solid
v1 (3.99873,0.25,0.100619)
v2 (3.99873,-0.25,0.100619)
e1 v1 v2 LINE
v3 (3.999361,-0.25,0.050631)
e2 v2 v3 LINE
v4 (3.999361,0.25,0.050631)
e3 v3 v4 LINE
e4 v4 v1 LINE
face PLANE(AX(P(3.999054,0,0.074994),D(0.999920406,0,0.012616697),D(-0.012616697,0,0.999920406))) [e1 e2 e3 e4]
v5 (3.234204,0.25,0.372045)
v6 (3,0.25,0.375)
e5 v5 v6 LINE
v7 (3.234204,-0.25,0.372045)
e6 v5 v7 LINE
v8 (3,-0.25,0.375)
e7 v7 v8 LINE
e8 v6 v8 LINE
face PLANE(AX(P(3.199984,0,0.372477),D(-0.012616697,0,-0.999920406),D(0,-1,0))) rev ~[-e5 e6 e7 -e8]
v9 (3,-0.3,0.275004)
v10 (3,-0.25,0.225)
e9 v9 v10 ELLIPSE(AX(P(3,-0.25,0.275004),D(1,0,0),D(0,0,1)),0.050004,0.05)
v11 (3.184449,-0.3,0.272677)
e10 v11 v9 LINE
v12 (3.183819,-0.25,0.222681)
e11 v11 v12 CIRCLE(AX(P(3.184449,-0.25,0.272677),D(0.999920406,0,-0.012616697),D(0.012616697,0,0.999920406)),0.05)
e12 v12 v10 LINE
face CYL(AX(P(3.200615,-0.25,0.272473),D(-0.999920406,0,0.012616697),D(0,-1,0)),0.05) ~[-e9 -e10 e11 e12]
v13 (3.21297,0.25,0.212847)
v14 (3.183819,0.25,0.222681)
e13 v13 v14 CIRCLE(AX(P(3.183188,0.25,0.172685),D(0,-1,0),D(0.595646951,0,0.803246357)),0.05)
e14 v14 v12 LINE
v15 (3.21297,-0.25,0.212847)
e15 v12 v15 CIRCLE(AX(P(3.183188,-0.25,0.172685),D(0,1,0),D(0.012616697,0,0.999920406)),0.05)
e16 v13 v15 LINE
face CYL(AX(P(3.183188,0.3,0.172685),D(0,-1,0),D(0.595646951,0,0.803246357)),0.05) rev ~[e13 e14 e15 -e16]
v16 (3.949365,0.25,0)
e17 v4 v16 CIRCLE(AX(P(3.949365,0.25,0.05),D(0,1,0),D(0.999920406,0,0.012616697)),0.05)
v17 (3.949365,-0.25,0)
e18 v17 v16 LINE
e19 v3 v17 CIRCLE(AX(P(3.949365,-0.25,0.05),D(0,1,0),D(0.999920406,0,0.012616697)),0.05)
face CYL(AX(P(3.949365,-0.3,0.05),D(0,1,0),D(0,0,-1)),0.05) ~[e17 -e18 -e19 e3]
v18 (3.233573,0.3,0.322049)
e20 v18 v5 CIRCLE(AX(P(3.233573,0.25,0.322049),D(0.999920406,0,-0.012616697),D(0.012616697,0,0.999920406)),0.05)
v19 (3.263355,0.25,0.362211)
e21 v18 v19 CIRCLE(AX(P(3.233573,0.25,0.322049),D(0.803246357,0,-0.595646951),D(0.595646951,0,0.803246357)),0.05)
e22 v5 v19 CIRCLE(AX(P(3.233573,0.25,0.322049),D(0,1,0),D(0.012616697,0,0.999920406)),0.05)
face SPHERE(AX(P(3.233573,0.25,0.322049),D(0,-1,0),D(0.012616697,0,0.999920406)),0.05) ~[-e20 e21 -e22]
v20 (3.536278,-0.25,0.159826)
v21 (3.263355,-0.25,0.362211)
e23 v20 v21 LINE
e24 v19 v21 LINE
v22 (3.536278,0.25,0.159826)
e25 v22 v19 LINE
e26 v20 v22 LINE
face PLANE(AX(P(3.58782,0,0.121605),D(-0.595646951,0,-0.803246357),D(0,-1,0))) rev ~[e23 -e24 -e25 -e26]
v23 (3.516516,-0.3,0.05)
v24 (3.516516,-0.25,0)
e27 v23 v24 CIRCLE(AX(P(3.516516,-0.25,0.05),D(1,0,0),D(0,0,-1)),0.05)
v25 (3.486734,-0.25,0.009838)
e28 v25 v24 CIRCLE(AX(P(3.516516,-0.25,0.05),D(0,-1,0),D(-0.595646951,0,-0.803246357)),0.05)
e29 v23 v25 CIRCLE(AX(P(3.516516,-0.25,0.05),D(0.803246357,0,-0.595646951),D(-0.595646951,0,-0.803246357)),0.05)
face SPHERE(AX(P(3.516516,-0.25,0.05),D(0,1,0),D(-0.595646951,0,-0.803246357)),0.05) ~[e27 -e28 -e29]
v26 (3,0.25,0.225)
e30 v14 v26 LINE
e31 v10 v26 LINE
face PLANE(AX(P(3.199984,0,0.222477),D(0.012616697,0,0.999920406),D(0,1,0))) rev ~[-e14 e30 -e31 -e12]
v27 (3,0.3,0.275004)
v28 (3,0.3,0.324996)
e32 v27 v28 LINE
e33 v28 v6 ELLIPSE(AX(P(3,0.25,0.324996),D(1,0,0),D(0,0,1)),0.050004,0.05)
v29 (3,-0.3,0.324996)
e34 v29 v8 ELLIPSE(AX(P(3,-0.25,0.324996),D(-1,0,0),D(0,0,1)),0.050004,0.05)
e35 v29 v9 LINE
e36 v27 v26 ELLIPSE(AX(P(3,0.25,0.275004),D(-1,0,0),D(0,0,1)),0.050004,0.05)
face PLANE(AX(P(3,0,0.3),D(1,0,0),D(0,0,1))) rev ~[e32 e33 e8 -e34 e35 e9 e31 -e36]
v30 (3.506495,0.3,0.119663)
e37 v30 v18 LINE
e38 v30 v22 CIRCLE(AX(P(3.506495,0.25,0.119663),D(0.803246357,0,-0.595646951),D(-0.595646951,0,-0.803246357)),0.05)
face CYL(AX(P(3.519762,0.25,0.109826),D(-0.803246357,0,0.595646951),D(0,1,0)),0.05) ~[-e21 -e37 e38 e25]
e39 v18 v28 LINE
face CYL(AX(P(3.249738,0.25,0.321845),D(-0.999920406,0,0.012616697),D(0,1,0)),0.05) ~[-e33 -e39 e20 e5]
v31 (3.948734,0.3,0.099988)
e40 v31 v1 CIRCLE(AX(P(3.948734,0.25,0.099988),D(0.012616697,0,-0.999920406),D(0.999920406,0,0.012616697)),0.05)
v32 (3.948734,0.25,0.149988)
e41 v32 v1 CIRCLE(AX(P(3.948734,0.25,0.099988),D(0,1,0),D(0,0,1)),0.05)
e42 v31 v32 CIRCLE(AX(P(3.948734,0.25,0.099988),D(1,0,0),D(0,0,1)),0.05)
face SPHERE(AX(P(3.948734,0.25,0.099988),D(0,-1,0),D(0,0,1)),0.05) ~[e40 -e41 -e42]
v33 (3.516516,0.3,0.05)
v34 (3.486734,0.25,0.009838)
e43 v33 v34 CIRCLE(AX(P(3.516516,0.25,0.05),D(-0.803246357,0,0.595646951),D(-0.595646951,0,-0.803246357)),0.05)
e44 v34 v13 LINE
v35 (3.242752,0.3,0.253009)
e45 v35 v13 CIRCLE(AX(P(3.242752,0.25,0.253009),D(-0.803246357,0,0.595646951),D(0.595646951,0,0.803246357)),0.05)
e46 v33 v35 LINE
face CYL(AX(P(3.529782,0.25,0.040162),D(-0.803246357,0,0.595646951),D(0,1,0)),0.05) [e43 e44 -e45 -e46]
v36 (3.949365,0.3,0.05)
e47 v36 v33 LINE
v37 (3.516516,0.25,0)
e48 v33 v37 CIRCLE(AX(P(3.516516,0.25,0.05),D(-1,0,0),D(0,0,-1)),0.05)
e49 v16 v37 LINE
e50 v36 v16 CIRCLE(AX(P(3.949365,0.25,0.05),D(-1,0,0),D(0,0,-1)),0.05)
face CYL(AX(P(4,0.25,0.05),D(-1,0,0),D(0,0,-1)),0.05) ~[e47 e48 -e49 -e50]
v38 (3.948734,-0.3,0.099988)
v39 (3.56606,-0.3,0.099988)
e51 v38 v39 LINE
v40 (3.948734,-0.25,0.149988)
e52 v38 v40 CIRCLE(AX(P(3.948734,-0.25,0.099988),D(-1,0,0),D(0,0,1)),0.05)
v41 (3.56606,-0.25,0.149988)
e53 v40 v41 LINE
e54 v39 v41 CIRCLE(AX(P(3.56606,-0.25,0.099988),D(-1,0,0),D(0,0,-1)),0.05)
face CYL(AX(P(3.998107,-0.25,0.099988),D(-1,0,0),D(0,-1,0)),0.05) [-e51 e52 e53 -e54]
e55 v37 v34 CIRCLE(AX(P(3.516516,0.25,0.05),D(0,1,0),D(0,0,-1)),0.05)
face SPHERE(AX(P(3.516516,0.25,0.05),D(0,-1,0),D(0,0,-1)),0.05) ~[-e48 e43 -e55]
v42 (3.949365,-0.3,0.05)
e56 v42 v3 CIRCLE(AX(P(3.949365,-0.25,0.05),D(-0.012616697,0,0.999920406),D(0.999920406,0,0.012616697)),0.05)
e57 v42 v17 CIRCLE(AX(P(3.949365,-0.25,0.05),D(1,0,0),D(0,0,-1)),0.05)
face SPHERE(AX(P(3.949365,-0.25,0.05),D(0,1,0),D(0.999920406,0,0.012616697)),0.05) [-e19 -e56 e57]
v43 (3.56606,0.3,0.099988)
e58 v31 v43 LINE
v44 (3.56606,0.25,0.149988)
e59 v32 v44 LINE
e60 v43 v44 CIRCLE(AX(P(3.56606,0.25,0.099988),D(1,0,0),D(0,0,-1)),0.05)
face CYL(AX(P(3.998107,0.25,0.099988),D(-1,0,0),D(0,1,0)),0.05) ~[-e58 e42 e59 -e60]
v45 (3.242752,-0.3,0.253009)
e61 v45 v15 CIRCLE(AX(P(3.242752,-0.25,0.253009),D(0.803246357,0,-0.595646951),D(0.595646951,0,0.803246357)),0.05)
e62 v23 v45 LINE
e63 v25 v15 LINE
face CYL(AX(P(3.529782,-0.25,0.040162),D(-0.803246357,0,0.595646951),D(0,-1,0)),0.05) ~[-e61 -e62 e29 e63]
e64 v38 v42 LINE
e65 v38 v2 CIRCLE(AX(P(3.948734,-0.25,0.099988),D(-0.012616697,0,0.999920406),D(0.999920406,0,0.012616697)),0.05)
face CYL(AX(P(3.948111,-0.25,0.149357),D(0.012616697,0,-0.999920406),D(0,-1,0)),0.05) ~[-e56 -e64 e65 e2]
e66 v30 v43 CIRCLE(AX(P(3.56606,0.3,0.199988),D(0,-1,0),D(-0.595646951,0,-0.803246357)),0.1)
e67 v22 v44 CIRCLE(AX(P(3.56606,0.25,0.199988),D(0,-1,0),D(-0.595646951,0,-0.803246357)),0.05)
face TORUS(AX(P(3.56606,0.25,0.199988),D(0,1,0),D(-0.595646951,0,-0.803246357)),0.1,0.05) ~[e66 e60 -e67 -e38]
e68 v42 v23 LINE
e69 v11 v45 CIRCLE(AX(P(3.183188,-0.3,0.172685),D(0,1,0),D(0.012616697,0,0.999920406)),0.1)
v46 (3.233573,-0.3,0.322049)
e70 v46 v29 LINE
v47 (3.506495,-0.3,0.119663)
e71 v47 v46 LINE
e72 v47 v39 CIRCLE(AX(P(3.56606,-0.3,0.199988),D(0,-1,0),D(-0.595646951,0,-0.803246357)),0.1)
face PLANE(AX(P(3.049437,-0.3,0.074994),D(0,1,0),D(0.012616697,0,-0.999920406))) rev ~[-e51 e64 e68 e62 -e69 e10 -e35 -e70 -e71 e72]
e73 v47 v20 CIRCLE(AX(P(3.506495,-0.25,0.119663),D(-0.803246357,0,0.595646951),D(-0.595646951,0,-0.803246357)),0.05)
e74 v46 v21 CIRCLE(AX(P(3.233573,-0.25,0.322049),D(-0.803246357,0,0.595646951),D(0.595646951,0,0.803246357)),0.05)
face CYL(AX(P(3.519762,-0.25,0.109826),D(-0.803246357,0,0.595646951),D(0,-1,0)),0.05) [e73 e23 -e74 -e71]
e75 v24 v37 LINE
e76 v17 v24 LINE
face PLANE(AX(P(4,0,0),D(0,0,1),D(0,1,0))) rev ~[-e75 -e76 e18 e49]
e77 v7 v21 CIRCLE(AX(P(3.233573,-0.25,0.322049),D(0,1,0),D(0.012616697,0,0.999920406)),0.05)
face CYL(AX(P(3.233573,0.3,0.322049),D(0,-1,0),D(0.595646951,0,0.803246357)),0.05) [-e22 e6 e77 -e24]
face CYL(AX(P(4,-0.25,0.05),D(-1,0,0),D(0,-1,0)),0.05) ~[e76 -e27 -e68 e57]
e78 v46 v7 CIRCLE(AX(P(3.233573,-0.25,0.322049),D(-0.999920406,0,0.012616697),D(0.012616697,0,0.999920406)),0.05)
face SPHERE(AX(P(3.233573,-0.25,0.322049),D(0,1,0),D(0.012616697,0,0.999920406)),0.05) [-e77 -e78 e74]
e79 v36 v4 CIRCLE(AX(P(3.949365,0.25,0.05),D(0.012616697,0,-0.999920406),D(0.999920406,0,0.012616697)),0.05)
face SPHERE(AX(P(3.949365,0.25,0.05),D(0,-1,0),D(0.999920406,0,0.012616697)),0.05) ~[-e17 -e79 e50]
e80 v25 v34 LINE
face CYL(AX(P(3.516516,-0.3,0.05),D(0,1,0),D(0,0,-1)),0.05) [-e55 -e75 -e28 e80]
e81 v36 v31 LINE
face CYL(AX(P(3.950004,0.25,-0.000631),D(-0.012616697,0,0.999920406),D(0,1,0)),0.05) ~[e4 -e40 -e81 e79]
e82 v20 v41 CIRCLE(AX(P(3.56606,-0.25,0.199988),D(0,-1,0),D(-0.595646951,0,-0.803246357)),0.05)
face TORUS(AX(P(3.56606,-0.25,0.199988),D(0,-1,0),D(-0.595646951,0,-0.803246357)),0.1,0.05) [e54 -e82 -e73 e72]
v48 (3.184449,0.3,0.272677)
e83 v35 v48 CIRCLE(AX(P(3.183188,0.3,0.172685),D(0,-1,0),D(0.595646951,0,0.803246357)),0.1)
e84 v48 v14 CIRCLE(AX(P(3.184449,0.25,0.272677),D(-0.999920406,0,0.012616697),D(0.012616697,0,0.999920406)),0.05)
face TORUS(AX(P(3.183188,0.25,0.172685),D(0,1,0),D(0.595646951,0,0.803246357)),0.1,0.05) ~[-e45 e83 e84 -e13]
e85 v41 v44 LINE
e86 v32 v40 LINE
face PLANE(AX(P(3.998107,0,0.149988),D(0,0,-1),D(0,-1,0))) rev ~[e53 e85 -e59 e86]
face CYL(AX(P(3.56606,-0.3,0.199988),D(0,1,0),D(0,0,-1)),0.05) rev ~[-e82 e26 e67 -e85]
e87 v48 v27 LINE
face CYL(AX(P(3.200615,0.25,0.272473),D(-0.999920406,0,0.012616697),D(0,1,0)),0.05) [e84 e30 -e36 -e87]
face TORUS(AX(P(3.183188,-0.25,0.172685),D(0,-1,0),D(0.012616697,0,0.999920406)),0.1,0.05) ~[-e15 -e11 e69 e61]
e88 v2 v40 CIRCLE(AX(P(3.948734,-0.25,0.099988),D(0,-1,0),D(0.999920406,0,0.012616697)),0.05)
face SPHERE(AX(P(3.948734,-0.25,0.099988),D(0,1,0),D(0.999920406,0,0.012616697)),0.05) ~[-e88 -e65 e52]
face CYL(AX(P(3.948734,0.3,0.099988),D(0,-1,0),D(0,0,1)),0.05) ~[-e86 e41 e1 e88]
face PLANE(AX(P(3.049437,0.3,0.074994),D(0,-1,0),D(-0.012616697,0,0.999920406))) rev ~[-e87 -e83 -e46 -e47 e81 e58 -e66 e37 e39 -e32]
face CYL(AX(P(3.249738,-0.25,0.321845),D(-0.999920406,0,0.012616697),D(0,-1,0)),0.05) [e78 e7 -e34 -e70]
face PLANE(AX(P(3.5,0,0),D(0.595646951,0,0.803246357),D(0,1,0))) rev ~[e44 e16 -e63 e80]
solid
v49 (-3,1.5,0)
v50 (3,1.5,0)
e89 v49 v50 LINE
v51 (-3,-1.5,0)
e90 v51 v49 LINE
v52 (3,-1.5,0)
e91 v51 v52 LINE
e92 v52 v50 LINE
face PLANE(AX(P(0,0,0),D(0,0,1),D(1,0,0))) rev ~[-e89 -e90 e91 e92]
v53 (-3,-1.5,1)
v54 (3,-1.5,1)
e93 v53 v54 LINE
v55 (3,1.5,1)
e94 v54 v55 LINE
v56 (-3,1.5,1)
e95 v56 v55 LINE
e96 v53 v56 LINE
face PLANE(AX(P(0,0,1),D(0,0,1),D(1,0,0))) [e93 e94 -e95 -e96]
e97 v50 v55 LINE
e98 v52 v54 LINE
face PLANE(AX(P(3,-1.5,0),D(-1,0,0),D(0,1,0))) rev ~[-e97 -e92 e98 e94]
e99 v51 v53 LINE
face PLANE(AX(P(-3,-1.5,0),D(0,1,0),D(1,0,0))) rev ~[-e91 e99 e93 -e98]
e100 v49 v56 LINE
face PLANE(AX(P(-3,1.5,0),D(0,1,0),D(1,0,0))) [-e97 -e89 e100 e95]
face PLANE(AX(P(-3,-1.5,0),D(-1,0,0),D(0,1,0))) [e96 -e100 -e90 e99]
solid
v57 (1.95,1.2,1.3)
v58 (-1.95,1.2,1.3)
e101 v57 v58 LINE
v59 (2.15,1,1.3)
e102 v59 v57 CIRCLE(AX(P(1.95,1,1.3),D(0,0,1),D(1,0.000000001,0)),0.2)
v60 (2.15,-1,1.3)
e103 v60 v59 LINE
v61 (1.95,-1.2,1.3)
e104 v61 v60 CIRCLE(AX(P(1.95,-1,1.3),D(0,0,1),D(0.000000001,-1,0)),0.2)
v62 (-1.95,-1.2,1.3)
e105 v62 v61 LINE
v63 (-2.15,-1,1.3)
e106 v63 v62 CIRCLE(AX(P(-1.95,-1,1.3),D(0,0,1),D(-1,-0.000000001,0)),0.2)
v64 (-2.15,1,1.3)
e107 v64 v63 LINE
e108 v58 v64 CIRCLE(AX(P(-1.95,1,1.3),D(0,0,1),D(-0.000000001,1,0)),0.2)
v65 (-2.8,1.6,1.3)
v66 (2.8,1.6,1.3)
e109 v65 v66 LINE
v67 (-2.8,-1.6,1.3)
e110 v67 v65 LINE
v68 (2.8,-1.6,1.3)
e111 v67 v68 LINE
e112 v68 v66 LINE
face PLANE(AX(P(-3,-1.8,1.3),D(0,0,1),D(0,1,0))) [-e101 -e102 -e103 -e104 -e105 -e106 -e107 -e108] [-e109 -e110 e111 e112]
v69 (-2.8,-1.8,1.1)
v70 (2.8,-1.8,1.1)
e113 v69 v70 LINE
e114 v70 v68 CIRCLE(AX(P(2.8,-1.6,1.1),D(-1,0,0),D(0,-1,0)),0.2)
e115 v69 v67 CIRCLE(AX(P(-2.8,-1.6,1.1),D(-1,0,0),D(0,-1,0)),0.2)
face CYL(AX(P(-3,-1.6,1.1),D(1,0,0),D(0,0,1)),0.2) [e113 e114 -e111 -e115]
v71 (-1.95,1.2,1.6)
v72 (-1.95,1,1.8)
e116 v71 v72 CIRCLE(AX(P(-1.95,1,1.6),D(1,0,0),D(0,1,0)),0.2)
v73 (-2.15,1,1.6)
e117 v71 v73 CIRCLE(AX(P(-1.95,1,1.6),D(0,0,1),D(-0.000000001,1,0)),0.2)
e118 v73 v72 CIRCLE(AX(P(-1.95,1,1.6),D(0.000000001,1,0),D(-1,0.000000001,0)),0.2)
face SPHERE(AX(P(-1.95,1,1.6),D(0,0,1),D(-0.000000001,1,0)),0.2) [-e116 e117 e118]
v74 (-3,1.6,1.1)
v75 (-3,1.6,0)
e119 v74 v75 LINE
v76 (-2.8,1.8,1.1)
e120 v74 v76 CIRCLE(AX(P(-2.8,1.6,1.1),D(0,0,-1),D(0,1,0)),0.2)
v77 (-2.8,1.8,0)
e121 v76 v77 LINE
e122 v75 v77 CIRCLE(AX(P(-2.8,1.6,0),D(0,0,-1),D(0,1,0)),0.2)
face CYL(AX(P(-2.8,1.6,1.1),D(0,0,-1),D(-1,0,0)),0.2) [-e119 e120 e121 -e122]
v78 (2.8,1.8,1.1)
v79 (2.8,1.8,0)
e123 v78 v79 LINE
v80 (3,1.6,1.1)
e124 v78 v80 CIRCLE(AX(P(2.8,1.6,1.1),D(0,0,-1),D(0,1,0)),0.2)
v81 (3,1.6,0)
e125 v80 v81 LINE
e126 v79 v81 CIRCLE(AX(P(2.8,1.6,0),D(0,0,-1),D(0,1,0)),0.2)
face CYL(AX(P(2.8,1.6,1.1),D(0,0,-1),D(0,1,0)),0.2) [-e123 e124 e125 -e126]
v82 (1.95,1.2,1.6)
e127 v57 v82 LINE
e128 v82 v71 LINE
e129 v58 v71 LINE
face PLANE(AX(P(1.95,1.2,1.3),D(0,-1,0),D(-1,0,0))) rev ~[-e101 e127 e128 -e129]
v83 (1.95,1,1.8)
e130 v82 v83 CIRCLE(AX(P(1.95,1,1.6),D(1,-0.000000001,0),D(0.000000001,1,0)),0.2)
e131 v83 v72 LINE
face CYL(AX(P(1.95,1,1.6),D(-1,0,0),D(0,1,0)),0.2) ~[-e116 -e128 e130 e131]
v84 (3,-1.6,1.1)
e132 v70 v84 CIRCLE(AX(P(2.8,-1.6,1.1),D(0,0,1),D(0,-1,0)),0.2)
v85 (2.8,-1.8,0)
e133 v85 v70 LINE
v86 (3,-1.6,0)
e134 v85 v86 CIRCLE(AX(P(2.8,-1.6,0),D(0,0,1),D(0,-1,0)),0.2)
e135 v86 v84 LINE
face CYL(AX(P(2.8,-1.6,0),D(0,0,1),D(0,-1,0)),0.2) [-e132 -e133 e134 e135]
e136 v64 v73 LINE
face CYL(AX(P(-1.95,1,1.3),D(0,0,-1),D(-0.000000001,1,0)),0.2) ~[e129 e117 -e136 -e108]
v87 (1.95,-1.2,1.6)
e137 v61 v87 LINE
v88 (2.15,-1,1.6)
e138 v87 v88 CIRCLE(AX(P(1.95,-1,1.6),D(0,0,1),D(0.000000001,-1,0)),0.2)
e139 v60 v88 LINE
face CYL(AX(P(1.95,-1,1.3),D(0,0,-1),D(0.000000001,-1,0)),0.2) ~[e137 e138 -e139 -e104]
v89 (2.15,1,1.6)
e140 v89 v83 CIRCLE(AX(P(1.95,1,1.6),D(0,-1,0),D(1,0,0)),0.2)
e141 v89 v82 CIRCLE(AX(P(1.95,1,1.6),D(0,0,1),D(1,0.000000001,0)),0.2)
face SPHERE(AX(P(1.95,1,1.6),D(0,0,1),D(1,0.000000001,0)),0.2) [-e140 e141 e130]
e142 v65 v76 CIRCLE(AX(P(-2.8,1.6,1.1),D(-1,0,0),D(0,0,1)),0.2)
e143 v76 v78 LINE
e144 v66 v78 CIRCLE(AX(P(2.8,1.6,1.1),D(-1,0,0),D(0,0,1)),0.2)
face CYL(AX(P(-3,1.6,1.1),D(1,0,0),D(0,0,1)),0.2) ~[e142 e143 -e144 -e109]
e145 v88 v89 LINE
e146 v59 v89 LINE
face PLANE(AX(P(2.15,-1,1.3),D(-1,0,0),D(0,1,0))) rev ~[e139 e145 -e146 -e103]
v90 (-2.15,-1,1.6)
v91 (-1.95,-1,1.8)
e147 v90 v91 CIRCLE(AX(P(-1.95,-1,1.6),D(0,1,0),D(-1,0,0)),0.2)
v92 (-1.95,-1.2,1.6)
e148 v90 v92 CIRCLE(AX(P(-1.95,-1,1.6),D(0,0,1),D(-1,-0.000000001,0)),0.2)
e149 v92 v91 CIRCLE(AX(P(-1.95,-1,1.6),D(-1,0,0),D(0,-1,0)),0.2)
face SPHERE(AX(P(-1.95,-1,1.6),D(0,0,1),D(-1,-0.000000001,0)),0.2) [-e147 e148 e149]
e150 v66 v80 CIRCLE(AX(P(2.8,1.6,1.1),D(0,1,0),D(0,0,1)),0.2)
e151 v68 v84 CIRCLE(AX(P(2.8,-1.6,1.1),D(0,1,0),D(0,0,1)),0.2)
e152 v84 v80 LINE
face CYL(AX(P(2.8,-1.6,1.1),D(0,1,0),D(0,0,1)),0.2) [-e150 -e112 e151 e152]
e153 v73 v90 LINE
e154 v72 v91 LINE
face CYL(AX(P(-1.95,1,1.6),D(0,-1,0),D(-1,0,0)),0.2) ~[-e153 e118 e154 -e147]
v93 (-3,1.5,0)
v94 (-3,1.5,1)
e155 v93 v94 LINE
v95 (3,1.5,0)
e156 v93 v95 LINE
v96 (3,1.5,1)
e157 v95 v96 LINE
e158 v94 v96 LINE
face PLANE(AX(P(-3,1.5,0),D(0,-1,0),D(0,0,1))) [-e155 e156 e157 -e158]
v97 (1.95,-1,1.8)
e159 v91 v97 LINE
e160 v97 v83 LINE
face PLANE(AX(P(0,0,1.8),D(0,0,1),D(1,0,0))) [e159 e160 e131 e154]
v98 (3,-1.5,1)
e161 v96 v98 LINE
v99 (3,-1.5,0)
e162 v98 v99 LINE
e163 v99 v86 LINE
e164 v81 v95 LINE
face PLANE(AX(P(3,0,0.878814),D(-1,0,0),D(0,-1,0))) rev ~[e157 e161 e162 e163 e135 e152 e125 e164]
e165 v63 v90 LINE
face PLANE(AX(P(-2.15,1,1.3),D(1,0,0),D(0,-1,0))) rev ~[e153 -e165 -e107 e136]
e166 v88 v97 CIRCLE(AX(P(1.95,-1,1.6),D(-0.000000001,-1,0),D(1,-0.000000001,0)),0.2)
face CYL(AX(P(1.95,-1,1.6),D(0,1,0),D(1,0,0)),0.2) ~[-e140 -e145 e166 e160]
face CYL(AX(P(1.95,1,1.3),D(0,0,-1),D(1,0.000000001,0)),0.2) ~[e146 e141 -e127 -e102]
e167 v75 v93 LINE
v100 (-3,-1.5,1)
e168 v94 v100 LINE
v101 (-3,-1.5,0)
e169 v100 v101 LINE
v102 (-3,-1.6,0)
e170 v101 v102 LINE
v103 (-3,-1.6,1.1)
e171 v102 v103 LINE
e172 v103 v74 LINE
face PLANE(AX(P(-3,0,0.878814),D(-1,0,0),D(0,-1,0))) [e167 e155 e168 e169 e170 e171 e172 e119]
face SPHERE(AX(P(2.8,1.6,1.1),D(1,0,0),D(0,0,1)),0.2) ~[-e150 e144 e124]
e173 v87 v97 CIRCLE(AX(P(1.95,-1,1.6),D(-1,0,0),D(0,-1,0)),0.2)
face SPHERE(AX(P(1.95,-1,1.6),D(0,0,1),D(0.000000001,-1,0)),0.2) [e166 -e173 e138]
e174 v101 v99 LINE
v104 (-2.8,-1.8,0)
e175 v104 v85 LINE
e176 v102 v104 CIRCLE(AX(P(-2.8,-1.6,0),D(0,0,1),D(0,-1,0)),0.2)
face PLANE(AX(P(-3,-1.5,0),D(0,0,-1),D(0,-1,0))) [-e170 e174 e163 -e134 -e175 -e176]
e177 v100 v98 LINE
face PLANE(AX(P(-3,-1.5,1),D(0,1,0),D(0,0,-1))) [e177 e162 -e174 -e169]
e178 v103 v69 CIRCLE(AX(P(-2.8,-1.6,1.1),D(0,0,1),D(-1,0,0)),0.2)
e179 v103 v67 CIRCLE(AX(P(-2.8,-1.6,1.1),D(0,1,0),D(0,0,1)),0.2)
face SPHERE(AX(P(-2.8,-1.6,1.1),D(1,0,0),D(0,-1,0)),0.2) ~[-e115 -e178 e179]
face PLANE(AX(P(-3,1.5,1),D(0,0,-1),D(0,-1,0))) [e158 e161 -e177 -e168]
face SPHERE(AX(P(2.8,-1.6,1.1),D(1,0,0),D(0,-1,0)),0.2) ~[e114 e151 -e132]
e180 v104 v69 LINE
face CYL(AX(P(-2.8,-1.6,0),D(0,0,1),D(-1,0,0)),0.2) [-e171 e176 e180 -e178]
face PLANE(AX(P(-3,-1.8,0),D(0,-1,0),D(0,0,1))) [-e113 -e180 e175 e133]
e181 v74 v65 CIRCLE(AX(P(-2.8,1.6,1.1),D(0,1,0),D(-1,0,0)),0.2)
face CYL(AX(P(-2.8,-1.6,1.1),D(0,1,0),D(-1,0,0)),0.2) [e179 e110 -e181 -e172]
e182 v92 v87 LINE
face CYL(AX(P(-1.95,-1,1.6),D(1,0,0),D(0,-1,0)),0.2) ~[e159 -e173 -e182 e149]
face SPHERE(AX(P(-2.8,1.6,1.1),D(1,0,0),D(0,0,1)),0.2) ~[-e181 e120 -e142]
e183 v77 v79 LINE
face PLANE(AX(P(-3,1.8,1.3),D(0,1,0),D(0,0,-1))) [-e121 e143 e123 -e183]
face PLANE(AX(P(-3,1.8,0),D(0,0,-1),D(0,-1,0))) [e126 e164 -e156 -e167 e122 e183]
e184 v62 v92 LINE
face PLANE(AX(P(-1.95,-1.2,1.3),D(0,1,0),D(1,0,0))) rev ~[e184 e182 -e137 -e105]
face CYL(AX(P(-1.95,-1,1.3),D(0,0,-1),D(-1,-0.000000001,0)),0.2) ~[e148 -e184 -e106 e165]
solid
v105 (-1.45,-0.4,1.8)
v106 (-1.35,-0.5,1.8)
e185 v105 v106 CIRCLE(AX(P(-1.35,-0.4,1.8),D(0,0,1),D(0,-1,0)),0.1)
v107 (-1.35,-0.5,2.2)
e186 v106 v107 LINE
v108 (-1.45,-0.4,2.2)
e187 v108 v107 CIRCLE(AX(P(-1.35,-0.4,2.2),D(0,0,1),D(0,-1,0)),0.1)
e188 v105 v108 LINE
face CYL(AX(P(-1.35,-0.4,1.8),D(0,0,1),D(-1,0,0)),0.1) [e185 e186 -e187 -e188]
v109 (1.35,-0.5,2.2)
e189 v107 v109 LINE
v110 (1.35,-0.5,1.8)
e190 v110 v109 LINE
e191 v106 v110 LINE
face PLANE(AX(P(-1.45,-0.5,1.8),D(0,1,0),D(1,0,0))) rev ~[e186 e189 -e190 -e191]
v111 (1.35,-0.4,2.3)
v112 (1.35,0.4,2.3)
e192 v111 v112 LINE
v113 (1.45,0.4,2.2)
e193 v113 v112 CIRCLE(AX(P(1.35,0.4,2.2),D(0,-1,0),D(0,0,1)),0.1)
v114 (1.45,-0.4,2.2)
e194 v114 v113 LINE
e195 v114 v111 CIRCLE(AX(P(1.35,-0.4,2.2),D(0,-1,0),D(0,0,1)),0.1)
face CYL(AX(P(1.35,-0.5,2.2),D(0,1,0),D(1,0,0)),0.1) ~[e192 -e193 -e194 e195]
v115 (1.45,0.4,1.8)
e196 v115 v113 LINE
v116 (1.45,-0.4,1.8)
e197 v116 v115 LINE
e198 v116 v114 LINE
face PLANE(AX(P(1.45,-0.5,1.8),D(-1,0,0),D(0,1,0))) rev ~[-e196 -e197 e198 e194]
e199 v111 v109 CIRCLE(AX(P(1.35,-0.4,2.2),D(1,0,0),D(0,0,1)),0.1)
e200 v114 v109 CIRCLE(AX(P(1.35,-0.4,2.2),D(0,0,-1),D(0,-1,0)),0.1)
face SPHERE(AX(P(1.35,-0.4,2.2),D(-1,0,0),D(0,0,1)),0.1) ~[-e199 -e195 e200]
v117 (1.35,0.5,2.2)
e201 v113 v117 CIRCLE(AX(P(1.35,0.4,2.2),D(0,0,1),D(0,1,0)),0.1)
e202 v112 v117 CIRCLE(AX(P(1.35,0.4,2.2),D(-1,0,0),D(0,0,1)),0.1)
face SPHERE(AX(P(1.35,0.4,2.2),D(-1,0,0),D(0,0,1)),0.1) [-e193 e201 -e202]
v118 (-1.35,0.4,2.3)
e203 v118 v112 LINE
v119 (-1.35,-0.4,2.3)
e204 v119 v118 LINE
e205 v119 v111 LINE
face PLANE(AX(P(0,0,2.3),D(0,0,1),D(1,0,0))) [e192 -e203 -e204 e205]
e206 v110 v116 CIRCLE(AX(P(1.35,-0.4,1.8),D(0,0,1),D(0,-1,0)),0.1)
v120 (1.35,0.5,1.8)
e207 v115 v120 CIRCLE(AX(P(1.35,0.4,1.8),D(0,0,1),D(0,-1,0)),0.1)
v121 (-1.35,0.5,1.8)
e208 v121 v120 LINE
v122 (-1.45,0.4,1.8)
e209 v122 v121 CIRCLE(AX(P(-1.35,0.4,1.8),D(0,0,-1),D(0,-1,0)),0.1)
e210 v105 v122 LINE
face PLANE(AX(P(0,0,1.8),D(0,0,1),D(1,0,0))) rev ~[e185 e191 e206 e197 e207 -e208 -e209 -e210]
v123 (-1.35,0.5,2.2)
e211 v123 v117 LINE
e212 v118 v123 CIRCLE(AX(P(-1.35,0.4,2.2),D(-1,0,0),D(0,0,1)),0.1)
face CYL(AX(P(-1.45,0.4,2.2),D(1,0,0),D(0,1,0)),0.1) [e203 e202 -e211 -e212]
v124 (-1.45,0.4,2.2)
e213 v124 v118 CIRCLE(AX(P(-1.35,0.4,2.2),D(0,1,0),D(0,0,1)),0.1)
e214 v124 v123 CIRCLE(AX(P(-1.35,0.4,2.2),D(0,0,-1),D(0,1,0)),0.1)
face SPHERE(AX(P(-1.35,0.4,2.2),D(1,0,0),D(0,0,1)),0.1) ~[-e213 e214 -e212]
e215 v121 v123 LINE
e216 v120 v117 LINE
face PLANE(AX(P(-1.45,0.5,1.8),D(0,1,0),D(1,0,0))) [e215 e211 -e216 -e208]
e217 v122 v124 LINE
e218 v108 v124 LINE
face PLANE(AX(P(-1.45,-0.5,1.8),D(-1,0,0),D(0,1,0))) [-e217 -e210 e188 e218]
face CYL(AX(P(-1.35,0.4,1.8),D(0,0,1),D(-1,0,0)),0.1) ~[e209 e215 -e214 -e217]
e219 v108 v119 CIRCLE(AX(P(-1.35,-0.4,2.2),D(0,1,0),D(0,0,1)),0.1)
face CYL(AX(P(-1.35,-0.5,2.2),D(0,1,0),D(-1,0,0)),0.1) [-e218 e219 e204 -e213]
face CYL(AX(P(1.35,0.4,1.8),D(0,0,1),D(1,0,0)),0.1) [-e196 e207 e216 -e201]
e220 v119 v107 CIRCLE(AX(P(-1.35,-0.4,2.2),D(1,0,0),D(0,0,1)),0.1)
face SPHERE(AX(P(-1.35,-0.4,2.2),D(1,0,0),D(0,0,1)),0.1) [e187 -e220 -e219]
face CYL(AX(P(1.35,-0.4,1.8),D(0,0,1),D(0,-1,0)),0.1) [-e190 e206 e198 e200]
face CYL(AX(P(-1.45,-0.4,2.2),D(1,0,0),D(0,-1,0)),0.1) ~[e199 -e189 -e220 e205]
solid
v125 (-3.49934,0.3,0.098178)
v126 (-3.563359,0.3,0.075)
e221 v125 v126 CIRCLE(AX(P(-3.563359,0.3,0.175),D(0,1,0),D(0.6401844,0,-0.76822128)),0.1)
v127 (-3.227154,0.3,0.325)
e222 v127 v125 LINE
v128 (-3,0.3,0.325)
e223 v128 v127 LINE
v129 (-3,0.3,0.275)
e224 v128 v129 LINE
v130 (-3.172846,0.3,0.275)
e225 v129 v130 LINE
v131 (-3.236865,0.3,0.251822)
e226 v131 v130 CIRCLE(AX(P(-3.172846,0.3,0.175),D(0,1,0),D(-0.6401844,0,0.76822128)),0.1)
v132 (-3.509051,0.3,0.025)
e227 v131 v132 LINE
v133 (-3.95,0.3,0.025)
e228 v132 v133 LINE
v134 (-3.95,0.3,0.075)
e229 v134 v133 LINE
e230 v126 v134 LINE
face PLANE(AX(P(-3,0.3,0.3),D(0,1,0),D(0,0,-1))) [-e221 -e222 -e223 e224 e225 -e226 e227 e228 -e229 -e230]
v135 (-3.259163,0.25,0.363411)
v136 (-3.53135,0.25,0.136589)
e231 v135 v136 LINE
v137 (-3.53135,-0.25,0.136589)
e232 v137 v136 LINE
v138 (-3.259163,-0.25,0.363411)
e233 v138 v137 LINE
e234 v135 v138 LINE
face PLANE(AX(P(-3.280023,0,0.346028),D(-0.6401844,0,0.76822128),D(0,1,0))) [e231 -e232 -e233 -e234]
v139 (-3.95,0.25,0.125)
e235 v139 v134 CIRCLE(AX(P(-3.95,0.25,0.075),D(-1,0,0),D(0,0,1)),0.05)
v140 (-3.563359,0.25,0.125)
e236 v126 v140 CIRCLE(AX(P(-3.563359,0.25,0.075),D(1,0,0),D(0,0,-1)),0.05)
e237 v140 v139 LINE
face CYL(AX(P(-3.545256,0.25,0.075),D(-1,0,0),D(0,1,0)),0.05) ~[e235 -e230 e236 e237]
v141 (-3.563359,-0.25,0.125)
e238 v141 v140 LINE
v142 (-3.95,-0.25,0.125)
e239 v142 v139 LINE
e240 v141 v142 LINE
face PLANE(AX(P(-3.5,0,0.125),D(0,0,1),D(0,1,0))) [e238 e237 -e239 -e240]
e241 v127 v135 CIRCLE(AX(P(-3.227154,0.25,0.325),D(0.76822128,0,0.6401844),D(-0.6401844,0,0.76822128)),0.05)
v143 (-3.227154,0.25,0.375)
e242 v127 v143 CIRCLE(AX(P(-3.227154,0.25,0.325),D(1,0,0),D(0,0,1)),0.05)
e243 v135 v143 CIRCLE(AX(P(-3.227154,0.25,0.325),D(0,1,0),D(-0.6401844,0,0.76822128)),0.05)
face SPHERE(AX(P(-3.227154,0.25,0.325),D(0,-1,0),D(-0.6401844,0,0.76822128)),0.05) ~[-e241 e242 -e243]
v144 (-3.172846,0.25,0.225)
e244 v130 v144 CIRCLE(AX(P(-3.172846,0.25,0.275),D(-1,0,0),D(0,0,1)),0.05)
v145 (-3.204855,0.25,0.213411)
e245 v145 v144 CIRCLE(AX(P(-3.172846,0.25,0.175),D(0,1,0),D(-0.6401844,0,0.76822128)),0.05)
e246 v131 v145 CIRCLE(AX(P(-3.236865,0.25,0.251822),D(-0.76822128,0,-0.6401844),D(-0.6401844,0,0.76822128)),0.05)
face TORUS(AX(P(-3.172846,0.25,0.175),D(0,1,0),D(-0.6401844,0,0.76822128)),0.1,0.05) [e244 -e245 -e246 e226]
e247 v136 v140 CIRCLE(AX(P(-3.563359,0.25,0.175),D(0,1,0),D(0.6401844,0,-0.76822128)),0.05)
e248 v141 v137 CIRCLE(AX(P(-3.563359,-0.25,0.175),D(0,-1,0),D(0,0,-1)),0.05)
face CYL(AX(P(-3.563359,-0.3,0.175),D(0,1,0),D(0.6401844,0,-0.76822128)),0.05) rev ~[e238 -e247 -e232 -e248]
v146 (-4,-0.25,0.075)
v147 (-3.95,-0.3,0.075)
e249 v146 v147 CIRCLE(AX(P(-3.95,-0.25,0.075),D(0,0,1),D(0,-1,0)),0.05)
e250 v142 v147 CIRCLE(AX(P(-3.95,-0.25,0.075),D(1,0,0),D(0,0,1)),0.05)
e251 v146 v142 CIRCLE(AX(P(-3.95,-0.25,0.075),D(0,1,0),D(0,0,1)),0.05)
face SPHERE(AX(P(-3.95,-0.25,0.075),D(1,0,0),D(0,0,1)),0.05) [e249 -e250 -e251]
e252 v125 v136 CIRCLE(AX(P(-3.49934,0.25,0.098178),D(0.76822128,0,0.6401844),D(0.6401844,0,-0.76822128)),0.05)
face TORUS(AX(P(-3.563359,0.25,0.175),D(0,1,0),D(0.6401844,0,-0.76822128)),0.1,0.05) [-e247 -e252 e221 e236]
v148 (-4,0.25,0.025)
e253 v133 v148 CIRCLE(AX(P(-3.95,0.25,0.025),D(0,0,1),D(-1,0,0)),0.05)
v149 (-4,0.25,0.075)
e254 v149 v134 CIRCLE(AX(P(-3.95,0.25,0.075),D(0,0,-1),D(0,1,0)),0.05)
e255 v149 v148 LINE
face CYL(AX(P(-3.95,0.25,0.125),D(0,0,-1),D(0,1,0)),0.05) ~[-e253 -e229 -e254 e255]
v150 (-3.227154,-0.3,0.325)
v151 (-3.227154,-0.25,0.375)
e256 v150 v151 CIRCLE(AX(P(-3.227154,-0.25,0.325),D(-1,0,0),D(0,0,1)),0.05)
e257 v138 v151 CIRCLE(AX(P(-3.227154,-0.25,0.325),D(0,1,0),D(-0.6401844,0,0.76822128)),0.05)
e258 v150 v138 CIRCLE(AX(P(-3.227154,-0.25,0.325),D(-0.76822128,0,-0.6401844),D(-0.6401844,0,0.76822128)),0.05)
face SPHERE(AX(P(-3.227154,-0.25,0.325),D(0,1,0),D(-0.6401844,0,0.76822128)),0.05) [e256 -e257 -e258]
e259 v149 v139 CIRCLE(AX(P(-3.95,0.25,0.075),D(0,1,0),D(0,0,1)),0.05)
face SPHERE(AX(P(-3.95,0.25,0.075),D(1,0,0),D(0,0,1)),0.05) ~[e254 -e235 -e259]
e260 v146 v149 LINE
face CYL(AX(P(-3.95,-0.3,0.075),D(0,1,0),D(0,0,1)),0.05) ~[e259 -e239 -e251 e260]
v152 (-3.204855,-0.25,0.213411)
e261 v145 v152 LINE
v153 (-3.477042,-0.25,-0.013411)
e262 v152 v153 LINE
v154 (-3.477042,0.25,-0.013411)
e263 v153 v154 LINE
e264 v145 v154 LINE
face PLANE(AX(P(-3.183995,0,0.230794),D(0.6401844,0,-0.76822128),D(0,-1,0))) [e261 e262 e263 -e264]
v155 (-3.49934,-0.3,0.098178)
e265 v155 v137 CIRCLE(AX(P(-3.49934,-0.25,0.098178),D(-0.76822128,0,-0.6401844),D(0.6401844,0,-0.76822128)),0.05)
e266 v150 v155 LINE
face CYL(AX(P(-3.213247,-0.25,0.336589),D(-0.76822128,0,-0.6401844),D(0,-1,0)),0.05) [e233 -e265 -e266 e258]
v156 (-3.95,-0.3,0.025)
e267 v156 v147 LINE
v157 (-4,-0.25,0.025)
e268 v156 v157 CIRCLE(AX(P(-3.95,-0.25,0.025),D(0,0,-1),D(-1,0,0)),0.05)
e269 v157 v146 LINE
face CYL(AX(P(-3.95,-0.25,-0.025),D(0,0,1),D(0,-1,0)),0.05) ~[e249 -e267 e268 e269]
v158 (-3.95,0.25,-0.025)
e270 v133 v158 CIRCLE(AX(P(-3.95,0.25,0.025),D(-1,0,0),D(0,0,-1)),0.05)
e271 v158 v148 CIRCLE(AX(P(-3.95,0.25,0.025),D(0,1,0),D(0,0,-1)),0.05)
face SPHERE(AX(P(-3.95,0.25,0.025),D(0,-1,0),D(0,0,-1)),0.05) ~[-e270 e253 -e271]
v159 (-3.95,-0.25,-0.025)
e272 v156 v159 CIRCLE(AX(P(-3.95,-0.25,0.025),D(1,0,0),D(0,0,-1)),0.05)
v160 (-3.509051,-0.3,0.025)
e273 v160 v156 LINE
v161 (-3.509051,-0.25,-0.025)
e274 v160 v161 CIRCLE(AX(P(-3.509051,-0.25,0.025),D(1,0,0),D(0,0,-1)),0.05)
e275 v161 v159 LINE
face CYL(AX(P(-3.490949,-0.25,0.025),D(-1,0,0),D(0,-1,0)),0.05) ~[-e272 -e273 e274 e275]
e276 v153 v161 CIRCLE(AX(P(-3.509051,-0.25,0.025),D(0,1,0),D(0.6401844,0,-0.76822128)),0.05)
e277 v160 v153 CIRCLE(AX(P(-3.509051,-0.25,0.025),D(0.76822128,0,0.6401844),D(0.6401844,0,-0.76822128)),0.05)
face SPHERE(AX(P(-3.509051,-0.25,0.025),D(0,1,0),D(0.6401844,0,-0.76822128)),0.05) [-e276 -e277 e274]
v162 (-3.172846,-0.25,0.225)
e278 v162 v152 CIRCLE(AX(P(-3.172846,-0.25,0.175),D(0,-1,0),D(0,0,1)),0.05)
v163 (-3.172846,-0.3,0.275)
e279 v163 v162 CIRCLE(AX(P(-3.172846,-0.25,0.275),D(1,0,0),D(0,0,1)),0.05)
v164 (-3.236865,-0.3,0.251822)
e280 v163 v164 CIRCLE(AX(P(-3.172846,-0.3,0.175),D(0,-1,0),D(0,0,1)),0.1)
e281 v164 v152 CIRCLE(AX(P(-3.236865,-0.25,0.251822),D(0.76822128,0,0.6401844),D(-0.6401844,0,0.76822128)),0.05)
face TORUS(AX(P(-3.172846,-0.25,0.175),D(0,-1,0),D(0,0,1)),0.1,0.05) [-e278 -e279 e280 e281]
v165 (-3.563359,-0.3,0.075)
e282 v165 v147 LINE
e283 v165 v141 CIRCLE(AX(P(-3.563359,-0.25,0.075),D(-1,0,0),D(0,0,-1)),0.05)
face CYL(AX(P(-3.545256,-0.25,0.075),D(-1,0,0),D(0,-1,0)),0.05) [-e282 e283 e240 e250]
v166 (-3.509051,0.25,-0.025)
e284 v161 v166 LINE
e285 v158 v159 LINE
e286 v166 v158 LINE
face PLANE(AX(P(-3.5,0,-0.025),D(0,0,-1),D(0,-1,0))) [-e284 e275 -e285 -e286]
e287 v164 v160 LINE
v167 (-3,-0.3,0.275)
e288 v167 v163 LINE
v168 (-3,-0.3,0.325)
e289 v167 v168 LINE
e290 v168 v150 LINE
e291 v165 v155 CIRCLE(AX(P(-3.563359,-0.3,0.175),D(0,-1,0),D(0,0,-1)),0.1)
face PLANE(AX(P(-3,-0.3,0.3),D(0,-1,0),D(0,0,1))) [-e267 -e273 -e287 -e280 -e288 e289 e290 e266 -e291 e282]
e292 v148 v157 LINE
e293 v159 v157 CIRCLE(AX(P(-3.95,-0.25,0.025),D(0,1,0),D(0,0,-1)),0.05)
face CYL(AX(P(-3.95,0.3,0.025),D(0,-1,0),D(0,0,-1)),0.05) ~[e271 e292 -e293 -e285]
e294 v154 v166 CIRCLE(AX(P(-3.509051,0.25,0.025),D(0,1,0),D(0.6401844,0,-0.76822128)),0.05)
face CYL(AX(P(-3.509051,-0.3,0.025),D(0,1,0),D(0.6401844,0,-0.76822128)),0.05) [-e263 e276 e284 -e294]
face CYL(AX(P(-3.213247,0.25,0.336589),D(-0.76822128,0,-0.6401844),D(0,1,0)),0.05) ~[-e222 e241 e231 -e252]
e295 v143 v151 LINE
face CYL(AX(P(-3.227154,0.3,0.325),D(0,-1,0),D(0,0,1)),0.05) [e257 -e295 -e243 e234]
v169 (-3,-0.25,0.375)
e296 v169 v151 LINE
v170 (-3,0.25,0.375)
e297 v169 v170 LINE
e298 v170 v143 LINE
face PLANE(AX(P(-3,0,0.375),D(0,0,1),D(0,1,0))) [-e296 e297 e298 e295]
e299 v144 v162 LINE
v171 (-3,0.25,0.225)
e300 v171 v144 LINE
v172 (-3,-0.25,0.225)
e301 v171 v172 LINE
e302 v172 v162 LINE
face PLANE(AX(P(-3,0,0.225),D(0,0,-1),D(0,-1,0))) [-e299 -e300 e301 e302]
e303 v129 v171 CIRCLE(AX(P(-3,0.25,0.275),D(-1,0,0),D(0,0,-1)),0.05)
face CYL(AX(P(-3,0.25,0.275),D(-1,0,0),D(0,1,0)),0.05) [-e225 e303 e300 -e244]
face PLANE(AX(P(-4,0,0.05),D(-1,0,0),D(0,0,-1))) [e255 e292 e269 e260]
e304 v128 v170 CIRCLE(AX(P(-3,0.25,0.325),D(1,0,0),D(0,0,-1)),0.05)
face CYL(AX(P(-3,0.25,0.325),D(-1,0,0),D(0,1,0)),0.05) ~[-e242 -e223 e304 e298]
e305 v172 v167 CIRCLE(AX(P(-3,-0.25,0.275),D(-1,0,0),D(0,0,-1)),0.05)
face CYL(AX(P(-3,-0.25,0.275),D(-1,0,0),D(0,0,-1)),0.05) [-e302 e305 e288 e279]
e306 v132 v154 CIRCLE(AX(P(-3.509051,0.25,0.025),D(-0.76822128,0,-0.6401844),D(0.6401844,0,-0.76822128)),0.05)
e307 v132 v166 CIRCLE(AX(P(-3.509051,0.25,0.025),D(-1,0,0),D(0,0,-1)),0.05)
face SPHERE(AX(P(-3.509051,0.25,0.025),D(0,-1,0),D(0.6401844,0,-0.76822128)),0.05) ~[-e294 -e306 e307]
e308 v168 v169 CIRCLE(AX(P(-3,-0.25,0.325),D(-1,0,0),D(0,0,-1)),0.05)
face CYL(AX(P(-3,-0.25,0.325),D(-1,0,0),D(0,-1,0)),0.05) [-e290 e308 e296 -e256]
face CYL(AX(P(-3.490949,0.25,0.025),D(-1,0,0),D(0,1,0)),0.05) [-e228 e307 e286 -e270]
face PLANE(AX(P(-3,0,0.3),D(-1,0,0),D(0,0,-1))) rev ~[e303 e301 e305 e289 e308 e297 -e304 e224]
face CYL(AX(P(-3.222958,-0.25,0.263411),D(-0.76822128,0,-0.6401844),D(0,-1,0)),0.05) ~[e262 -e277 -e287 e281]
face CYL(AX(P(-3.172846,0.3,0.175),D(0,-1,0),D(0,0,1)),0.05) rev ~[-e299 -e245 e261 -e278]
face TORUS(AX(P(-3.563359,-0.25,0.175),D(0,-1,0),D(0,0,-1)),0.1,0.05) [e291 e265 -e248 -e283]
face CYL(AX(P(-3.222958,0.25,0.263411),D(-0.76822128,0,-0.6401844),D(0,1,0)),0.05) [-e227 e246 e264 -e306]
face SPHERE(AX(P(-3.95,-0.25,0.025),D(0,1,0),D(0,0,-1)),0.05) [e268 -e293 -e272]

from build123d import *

# Parameters (mm, degrees)
F0_W     = 6
F0_H     = 3
F1_DEPTH = 1
F3_DEPTH = 6
F5_DEPTH = 0.5
F6_R     = 0.2
F7_W     = 2.9
F7_H     = 1
F8_DEPTH = 0.5
F9_R     = 0.2
F10_W    = 0.6
F10_H    = 0.15
F13_W    = 0.6
F13_H    = 0.15
F15_R    = 0.2
F16_R    = 0.1
F17_R    = 0.05
F18_R    = 0.05


with BuildPart() as f1:
    # F0 (on Top) → F1 (new body)
    with BuildSketch(Plane.XY):
        Rectangle(F0_W, F0_H)
    extrude(amount=F1_DEPTH)


with BuildPart() as f3:
    # F2 (on face) → F3 (new body)
    with BuildSketch(Plane(origin=(-3, 0, 0), x_dir=(0, -1, 0), z_dir=(-1, 0, 0))):
        Polygon((-1.8, 0), (-1.5, 0), (-1.5, 1), (1.5, 1), (1.5, 0), (1.8, 0), (1.8, 1.3), (-1.8, 1.3), align=None)
    extrude(amount=-F3_DEPTH)

    # F4 (on face) → F5 (join)
    with BuildSketch(Plane.XY.offset(1.3)):
        with BuildLine():
            Line((-1.95, -1.2), (1.95, -1.2))
            ThreePointArc((1.95, -1.2), (2.0914213562, -1.1414213562), (2.15, -1))
            Line((2.15, -1), (2.15, 1))
            ThreePointArc((2.15, 1), (2.0914213562, 1.1414213562), (1.95, 1.2))
            Line((1.95, 1.2), (-1.95, 1.2))
            ThreePointArc((-1.95, 1.2), (-2.0914213562, 1.1414213562), (-2.15, 1))
            Line((-2.15, 1), (-2.15, -1))
            ThreePointArc((-2.15, -1), (-2.0914213562, -1.1414213562), (-1.95, -1.2))
        make_face()
    extrude(amount=F5_DEPTH)

    # F6
    f6_edges = [f3.edges().sort_by_distance(p)[0] for p in [
        (0, -1.2, 1.8),
        (2.091421, -1.141421, 1.8),
        (2.15, 0, 1.8),
        (2.091421, 1.141421, 1.8),
        (0, 1.2, 1.8),
        (-2.091421, 1.141421, 1.8),
        (-2.15, 0, 1.8),
        (-2.091421, -1.141421, 1.8),
    ]]
    fillet(f6_edges, radius=F6_R)

    # F9
    f9_edges = [f3.edges().sort_by_distance(p)[0] for p in [
        (0, -1.8, 1.3),
        (0, 1.8, 1.3),
    ]]
    fillet(f9_edges, radius=F9_R)

    # F15
    f15_edges = [f3.edges().sort_by_distance(p)[0] for p in [
        (-3, 1.8, 0.55),
        (-3, 1.741421, 1.241421),
        (-3, 0, 1.3),
        (-3, -1.8, 0.55),
        (-3, -1.741421, 1.241421),
        (3, 0, 1.3),
    ]]
    fillet(f15_edges, radius=F15_R)


with BuildPart() as f8:
    # F7 (on face) → F8 (new body)
    with BuildSketch(Plane.XY.offset(1.8)):
        Rectangle(F7_W, F7_H)
    extrude(amount=F8_DEPTH)

    # F16
    f16_edges = [f8.edges().sort_by_distance(p)[0] for p in [
        (0, -0.5, 2.3),
        (0, 0.5, 2.3),
        (-1.45, 0, 2.3),
        (1.45, 0, 2.3),
        (-1.45, 0.5, 2.05),
        (1.45, 0.5, 2.05),
        (-1.45, -0.5, 2.05),
        (1.45, -0.5, 2.05),
    ]]
    fillet(f16_edges, radius=F16_R)


with BuildPart() as f12:
    # F12: sweep along a path in F11
    with BuildLine(Plane.XZ.offset(1.8)) as f12_path:
        Line((4, 0), (3.5, 0))
        Line((3.5, 0), (3.1999840813, 0.2224766605))
        Line((3.1999840813, 0.2224766605), (3, 0.225))
    # F10 (on face) → F12 (sweep)
    with BuildSketch(Plane.YZ.offset(3)):
        with Locations((0, 0.3)):
            Rectangle(F10_W, F10_H)
    sweep(path=f12_path.line, transition=Transition.RIGHT)

    # F18
    f18_edges = [f12.edges().sort_by_distance(p)[0] for p in [
        (3.125185, -0.3, 0.37342),
        (3.399957, -0.3, 0.260914),
        (3.773826, -0.3, 0.149988),
        (3.998107, 0, 0.149988),
        (3.250369, 0, 0.371841),
        (3.549544, 0, 0.149988),
        (3.125185, 0.3, 0.37342),
        (3.399957, 0.3, 0.260914),
        (3.773826, 0.3, 0.149988),
        (3.999054, 0.3, 0.074994),
        (3.75, 0.3, 0),
        (3.349992, 0.3, 0.111238),
        (3.099992, 0.3, 0.223738),
        (3.999054, -0.3, 0.074994),
        (3.099992, -0.3, 0.223738),
        (3.349992, -0.3, 0.111238),
        (3.75, -0.3, 0),
        (4, 0, 0),
        (3.199984, 0, 0.222477),
        (3.5, 0, 0),
    ]]
    fillet(f18_edges, radius=F18_R)


with BuildPart() as f14:
    # F14: sweep along a path in F11
    with BuildLine(Plane.XZ.offset(1.8)) as f14_path:
        Line((-3, 0.25), (-3.2, 0.25))
        Line((-3.2, 0.25), (-3.5, 0))
        Line((-3.5, 0), (-4, 0))
    # F13 (on face) → F14 (sweep)
    with BuildSketch(Plane(origin=(-3, 0, 0), x_dir=(0, -1, 0), z_dir=(-1, 0, 0))):
        with Locations((0, 0.3)):
            Rectangle(F13_W, F13_H)
    sweep(path=f14_path.line, transition=Transition.RIGHT)

    # F17
    f17_edges = [f14.edges().sort_by_distance(p)[0] for p in [
        (-3.395256, 0.3, 0.25),
        (-3.772628, 0.3, 0.125),
        (-3.122628, 0.3, 0.375),
        (-3.772628, -0.3, 0.125),
        (-3.395256, -0.3, 0.25),
        (-3.122628, -0.3, 0.375),
        (-3.245256, 0, 0.375),
        (-3.545256, 0, 0.125),
        (-4, 0, 0.125),
        (-3.190949, 0, 0.225),
        (-3.490949, 0, -0.025),
        (-3.095474, -0.3, 0.225),
        (-3.340949, -0.3, 0.1),
        (-3.340949, 0.3, 0.1),
        (-4, 0, -0.025),
        (-3.745474, 0.3, -0.025),
        (-3.745474, -0.3, -0.025),
        (-4, -0.3, 0.05),
        (-4, 0.3, 0.05),
        (-3.095474, 0.3, 0.225),
    ]]
    fillet(f17_edges, radius=F17_R)


solid = Compound([f1.part, f3.part, f8.part, f12.part, f14.part])
